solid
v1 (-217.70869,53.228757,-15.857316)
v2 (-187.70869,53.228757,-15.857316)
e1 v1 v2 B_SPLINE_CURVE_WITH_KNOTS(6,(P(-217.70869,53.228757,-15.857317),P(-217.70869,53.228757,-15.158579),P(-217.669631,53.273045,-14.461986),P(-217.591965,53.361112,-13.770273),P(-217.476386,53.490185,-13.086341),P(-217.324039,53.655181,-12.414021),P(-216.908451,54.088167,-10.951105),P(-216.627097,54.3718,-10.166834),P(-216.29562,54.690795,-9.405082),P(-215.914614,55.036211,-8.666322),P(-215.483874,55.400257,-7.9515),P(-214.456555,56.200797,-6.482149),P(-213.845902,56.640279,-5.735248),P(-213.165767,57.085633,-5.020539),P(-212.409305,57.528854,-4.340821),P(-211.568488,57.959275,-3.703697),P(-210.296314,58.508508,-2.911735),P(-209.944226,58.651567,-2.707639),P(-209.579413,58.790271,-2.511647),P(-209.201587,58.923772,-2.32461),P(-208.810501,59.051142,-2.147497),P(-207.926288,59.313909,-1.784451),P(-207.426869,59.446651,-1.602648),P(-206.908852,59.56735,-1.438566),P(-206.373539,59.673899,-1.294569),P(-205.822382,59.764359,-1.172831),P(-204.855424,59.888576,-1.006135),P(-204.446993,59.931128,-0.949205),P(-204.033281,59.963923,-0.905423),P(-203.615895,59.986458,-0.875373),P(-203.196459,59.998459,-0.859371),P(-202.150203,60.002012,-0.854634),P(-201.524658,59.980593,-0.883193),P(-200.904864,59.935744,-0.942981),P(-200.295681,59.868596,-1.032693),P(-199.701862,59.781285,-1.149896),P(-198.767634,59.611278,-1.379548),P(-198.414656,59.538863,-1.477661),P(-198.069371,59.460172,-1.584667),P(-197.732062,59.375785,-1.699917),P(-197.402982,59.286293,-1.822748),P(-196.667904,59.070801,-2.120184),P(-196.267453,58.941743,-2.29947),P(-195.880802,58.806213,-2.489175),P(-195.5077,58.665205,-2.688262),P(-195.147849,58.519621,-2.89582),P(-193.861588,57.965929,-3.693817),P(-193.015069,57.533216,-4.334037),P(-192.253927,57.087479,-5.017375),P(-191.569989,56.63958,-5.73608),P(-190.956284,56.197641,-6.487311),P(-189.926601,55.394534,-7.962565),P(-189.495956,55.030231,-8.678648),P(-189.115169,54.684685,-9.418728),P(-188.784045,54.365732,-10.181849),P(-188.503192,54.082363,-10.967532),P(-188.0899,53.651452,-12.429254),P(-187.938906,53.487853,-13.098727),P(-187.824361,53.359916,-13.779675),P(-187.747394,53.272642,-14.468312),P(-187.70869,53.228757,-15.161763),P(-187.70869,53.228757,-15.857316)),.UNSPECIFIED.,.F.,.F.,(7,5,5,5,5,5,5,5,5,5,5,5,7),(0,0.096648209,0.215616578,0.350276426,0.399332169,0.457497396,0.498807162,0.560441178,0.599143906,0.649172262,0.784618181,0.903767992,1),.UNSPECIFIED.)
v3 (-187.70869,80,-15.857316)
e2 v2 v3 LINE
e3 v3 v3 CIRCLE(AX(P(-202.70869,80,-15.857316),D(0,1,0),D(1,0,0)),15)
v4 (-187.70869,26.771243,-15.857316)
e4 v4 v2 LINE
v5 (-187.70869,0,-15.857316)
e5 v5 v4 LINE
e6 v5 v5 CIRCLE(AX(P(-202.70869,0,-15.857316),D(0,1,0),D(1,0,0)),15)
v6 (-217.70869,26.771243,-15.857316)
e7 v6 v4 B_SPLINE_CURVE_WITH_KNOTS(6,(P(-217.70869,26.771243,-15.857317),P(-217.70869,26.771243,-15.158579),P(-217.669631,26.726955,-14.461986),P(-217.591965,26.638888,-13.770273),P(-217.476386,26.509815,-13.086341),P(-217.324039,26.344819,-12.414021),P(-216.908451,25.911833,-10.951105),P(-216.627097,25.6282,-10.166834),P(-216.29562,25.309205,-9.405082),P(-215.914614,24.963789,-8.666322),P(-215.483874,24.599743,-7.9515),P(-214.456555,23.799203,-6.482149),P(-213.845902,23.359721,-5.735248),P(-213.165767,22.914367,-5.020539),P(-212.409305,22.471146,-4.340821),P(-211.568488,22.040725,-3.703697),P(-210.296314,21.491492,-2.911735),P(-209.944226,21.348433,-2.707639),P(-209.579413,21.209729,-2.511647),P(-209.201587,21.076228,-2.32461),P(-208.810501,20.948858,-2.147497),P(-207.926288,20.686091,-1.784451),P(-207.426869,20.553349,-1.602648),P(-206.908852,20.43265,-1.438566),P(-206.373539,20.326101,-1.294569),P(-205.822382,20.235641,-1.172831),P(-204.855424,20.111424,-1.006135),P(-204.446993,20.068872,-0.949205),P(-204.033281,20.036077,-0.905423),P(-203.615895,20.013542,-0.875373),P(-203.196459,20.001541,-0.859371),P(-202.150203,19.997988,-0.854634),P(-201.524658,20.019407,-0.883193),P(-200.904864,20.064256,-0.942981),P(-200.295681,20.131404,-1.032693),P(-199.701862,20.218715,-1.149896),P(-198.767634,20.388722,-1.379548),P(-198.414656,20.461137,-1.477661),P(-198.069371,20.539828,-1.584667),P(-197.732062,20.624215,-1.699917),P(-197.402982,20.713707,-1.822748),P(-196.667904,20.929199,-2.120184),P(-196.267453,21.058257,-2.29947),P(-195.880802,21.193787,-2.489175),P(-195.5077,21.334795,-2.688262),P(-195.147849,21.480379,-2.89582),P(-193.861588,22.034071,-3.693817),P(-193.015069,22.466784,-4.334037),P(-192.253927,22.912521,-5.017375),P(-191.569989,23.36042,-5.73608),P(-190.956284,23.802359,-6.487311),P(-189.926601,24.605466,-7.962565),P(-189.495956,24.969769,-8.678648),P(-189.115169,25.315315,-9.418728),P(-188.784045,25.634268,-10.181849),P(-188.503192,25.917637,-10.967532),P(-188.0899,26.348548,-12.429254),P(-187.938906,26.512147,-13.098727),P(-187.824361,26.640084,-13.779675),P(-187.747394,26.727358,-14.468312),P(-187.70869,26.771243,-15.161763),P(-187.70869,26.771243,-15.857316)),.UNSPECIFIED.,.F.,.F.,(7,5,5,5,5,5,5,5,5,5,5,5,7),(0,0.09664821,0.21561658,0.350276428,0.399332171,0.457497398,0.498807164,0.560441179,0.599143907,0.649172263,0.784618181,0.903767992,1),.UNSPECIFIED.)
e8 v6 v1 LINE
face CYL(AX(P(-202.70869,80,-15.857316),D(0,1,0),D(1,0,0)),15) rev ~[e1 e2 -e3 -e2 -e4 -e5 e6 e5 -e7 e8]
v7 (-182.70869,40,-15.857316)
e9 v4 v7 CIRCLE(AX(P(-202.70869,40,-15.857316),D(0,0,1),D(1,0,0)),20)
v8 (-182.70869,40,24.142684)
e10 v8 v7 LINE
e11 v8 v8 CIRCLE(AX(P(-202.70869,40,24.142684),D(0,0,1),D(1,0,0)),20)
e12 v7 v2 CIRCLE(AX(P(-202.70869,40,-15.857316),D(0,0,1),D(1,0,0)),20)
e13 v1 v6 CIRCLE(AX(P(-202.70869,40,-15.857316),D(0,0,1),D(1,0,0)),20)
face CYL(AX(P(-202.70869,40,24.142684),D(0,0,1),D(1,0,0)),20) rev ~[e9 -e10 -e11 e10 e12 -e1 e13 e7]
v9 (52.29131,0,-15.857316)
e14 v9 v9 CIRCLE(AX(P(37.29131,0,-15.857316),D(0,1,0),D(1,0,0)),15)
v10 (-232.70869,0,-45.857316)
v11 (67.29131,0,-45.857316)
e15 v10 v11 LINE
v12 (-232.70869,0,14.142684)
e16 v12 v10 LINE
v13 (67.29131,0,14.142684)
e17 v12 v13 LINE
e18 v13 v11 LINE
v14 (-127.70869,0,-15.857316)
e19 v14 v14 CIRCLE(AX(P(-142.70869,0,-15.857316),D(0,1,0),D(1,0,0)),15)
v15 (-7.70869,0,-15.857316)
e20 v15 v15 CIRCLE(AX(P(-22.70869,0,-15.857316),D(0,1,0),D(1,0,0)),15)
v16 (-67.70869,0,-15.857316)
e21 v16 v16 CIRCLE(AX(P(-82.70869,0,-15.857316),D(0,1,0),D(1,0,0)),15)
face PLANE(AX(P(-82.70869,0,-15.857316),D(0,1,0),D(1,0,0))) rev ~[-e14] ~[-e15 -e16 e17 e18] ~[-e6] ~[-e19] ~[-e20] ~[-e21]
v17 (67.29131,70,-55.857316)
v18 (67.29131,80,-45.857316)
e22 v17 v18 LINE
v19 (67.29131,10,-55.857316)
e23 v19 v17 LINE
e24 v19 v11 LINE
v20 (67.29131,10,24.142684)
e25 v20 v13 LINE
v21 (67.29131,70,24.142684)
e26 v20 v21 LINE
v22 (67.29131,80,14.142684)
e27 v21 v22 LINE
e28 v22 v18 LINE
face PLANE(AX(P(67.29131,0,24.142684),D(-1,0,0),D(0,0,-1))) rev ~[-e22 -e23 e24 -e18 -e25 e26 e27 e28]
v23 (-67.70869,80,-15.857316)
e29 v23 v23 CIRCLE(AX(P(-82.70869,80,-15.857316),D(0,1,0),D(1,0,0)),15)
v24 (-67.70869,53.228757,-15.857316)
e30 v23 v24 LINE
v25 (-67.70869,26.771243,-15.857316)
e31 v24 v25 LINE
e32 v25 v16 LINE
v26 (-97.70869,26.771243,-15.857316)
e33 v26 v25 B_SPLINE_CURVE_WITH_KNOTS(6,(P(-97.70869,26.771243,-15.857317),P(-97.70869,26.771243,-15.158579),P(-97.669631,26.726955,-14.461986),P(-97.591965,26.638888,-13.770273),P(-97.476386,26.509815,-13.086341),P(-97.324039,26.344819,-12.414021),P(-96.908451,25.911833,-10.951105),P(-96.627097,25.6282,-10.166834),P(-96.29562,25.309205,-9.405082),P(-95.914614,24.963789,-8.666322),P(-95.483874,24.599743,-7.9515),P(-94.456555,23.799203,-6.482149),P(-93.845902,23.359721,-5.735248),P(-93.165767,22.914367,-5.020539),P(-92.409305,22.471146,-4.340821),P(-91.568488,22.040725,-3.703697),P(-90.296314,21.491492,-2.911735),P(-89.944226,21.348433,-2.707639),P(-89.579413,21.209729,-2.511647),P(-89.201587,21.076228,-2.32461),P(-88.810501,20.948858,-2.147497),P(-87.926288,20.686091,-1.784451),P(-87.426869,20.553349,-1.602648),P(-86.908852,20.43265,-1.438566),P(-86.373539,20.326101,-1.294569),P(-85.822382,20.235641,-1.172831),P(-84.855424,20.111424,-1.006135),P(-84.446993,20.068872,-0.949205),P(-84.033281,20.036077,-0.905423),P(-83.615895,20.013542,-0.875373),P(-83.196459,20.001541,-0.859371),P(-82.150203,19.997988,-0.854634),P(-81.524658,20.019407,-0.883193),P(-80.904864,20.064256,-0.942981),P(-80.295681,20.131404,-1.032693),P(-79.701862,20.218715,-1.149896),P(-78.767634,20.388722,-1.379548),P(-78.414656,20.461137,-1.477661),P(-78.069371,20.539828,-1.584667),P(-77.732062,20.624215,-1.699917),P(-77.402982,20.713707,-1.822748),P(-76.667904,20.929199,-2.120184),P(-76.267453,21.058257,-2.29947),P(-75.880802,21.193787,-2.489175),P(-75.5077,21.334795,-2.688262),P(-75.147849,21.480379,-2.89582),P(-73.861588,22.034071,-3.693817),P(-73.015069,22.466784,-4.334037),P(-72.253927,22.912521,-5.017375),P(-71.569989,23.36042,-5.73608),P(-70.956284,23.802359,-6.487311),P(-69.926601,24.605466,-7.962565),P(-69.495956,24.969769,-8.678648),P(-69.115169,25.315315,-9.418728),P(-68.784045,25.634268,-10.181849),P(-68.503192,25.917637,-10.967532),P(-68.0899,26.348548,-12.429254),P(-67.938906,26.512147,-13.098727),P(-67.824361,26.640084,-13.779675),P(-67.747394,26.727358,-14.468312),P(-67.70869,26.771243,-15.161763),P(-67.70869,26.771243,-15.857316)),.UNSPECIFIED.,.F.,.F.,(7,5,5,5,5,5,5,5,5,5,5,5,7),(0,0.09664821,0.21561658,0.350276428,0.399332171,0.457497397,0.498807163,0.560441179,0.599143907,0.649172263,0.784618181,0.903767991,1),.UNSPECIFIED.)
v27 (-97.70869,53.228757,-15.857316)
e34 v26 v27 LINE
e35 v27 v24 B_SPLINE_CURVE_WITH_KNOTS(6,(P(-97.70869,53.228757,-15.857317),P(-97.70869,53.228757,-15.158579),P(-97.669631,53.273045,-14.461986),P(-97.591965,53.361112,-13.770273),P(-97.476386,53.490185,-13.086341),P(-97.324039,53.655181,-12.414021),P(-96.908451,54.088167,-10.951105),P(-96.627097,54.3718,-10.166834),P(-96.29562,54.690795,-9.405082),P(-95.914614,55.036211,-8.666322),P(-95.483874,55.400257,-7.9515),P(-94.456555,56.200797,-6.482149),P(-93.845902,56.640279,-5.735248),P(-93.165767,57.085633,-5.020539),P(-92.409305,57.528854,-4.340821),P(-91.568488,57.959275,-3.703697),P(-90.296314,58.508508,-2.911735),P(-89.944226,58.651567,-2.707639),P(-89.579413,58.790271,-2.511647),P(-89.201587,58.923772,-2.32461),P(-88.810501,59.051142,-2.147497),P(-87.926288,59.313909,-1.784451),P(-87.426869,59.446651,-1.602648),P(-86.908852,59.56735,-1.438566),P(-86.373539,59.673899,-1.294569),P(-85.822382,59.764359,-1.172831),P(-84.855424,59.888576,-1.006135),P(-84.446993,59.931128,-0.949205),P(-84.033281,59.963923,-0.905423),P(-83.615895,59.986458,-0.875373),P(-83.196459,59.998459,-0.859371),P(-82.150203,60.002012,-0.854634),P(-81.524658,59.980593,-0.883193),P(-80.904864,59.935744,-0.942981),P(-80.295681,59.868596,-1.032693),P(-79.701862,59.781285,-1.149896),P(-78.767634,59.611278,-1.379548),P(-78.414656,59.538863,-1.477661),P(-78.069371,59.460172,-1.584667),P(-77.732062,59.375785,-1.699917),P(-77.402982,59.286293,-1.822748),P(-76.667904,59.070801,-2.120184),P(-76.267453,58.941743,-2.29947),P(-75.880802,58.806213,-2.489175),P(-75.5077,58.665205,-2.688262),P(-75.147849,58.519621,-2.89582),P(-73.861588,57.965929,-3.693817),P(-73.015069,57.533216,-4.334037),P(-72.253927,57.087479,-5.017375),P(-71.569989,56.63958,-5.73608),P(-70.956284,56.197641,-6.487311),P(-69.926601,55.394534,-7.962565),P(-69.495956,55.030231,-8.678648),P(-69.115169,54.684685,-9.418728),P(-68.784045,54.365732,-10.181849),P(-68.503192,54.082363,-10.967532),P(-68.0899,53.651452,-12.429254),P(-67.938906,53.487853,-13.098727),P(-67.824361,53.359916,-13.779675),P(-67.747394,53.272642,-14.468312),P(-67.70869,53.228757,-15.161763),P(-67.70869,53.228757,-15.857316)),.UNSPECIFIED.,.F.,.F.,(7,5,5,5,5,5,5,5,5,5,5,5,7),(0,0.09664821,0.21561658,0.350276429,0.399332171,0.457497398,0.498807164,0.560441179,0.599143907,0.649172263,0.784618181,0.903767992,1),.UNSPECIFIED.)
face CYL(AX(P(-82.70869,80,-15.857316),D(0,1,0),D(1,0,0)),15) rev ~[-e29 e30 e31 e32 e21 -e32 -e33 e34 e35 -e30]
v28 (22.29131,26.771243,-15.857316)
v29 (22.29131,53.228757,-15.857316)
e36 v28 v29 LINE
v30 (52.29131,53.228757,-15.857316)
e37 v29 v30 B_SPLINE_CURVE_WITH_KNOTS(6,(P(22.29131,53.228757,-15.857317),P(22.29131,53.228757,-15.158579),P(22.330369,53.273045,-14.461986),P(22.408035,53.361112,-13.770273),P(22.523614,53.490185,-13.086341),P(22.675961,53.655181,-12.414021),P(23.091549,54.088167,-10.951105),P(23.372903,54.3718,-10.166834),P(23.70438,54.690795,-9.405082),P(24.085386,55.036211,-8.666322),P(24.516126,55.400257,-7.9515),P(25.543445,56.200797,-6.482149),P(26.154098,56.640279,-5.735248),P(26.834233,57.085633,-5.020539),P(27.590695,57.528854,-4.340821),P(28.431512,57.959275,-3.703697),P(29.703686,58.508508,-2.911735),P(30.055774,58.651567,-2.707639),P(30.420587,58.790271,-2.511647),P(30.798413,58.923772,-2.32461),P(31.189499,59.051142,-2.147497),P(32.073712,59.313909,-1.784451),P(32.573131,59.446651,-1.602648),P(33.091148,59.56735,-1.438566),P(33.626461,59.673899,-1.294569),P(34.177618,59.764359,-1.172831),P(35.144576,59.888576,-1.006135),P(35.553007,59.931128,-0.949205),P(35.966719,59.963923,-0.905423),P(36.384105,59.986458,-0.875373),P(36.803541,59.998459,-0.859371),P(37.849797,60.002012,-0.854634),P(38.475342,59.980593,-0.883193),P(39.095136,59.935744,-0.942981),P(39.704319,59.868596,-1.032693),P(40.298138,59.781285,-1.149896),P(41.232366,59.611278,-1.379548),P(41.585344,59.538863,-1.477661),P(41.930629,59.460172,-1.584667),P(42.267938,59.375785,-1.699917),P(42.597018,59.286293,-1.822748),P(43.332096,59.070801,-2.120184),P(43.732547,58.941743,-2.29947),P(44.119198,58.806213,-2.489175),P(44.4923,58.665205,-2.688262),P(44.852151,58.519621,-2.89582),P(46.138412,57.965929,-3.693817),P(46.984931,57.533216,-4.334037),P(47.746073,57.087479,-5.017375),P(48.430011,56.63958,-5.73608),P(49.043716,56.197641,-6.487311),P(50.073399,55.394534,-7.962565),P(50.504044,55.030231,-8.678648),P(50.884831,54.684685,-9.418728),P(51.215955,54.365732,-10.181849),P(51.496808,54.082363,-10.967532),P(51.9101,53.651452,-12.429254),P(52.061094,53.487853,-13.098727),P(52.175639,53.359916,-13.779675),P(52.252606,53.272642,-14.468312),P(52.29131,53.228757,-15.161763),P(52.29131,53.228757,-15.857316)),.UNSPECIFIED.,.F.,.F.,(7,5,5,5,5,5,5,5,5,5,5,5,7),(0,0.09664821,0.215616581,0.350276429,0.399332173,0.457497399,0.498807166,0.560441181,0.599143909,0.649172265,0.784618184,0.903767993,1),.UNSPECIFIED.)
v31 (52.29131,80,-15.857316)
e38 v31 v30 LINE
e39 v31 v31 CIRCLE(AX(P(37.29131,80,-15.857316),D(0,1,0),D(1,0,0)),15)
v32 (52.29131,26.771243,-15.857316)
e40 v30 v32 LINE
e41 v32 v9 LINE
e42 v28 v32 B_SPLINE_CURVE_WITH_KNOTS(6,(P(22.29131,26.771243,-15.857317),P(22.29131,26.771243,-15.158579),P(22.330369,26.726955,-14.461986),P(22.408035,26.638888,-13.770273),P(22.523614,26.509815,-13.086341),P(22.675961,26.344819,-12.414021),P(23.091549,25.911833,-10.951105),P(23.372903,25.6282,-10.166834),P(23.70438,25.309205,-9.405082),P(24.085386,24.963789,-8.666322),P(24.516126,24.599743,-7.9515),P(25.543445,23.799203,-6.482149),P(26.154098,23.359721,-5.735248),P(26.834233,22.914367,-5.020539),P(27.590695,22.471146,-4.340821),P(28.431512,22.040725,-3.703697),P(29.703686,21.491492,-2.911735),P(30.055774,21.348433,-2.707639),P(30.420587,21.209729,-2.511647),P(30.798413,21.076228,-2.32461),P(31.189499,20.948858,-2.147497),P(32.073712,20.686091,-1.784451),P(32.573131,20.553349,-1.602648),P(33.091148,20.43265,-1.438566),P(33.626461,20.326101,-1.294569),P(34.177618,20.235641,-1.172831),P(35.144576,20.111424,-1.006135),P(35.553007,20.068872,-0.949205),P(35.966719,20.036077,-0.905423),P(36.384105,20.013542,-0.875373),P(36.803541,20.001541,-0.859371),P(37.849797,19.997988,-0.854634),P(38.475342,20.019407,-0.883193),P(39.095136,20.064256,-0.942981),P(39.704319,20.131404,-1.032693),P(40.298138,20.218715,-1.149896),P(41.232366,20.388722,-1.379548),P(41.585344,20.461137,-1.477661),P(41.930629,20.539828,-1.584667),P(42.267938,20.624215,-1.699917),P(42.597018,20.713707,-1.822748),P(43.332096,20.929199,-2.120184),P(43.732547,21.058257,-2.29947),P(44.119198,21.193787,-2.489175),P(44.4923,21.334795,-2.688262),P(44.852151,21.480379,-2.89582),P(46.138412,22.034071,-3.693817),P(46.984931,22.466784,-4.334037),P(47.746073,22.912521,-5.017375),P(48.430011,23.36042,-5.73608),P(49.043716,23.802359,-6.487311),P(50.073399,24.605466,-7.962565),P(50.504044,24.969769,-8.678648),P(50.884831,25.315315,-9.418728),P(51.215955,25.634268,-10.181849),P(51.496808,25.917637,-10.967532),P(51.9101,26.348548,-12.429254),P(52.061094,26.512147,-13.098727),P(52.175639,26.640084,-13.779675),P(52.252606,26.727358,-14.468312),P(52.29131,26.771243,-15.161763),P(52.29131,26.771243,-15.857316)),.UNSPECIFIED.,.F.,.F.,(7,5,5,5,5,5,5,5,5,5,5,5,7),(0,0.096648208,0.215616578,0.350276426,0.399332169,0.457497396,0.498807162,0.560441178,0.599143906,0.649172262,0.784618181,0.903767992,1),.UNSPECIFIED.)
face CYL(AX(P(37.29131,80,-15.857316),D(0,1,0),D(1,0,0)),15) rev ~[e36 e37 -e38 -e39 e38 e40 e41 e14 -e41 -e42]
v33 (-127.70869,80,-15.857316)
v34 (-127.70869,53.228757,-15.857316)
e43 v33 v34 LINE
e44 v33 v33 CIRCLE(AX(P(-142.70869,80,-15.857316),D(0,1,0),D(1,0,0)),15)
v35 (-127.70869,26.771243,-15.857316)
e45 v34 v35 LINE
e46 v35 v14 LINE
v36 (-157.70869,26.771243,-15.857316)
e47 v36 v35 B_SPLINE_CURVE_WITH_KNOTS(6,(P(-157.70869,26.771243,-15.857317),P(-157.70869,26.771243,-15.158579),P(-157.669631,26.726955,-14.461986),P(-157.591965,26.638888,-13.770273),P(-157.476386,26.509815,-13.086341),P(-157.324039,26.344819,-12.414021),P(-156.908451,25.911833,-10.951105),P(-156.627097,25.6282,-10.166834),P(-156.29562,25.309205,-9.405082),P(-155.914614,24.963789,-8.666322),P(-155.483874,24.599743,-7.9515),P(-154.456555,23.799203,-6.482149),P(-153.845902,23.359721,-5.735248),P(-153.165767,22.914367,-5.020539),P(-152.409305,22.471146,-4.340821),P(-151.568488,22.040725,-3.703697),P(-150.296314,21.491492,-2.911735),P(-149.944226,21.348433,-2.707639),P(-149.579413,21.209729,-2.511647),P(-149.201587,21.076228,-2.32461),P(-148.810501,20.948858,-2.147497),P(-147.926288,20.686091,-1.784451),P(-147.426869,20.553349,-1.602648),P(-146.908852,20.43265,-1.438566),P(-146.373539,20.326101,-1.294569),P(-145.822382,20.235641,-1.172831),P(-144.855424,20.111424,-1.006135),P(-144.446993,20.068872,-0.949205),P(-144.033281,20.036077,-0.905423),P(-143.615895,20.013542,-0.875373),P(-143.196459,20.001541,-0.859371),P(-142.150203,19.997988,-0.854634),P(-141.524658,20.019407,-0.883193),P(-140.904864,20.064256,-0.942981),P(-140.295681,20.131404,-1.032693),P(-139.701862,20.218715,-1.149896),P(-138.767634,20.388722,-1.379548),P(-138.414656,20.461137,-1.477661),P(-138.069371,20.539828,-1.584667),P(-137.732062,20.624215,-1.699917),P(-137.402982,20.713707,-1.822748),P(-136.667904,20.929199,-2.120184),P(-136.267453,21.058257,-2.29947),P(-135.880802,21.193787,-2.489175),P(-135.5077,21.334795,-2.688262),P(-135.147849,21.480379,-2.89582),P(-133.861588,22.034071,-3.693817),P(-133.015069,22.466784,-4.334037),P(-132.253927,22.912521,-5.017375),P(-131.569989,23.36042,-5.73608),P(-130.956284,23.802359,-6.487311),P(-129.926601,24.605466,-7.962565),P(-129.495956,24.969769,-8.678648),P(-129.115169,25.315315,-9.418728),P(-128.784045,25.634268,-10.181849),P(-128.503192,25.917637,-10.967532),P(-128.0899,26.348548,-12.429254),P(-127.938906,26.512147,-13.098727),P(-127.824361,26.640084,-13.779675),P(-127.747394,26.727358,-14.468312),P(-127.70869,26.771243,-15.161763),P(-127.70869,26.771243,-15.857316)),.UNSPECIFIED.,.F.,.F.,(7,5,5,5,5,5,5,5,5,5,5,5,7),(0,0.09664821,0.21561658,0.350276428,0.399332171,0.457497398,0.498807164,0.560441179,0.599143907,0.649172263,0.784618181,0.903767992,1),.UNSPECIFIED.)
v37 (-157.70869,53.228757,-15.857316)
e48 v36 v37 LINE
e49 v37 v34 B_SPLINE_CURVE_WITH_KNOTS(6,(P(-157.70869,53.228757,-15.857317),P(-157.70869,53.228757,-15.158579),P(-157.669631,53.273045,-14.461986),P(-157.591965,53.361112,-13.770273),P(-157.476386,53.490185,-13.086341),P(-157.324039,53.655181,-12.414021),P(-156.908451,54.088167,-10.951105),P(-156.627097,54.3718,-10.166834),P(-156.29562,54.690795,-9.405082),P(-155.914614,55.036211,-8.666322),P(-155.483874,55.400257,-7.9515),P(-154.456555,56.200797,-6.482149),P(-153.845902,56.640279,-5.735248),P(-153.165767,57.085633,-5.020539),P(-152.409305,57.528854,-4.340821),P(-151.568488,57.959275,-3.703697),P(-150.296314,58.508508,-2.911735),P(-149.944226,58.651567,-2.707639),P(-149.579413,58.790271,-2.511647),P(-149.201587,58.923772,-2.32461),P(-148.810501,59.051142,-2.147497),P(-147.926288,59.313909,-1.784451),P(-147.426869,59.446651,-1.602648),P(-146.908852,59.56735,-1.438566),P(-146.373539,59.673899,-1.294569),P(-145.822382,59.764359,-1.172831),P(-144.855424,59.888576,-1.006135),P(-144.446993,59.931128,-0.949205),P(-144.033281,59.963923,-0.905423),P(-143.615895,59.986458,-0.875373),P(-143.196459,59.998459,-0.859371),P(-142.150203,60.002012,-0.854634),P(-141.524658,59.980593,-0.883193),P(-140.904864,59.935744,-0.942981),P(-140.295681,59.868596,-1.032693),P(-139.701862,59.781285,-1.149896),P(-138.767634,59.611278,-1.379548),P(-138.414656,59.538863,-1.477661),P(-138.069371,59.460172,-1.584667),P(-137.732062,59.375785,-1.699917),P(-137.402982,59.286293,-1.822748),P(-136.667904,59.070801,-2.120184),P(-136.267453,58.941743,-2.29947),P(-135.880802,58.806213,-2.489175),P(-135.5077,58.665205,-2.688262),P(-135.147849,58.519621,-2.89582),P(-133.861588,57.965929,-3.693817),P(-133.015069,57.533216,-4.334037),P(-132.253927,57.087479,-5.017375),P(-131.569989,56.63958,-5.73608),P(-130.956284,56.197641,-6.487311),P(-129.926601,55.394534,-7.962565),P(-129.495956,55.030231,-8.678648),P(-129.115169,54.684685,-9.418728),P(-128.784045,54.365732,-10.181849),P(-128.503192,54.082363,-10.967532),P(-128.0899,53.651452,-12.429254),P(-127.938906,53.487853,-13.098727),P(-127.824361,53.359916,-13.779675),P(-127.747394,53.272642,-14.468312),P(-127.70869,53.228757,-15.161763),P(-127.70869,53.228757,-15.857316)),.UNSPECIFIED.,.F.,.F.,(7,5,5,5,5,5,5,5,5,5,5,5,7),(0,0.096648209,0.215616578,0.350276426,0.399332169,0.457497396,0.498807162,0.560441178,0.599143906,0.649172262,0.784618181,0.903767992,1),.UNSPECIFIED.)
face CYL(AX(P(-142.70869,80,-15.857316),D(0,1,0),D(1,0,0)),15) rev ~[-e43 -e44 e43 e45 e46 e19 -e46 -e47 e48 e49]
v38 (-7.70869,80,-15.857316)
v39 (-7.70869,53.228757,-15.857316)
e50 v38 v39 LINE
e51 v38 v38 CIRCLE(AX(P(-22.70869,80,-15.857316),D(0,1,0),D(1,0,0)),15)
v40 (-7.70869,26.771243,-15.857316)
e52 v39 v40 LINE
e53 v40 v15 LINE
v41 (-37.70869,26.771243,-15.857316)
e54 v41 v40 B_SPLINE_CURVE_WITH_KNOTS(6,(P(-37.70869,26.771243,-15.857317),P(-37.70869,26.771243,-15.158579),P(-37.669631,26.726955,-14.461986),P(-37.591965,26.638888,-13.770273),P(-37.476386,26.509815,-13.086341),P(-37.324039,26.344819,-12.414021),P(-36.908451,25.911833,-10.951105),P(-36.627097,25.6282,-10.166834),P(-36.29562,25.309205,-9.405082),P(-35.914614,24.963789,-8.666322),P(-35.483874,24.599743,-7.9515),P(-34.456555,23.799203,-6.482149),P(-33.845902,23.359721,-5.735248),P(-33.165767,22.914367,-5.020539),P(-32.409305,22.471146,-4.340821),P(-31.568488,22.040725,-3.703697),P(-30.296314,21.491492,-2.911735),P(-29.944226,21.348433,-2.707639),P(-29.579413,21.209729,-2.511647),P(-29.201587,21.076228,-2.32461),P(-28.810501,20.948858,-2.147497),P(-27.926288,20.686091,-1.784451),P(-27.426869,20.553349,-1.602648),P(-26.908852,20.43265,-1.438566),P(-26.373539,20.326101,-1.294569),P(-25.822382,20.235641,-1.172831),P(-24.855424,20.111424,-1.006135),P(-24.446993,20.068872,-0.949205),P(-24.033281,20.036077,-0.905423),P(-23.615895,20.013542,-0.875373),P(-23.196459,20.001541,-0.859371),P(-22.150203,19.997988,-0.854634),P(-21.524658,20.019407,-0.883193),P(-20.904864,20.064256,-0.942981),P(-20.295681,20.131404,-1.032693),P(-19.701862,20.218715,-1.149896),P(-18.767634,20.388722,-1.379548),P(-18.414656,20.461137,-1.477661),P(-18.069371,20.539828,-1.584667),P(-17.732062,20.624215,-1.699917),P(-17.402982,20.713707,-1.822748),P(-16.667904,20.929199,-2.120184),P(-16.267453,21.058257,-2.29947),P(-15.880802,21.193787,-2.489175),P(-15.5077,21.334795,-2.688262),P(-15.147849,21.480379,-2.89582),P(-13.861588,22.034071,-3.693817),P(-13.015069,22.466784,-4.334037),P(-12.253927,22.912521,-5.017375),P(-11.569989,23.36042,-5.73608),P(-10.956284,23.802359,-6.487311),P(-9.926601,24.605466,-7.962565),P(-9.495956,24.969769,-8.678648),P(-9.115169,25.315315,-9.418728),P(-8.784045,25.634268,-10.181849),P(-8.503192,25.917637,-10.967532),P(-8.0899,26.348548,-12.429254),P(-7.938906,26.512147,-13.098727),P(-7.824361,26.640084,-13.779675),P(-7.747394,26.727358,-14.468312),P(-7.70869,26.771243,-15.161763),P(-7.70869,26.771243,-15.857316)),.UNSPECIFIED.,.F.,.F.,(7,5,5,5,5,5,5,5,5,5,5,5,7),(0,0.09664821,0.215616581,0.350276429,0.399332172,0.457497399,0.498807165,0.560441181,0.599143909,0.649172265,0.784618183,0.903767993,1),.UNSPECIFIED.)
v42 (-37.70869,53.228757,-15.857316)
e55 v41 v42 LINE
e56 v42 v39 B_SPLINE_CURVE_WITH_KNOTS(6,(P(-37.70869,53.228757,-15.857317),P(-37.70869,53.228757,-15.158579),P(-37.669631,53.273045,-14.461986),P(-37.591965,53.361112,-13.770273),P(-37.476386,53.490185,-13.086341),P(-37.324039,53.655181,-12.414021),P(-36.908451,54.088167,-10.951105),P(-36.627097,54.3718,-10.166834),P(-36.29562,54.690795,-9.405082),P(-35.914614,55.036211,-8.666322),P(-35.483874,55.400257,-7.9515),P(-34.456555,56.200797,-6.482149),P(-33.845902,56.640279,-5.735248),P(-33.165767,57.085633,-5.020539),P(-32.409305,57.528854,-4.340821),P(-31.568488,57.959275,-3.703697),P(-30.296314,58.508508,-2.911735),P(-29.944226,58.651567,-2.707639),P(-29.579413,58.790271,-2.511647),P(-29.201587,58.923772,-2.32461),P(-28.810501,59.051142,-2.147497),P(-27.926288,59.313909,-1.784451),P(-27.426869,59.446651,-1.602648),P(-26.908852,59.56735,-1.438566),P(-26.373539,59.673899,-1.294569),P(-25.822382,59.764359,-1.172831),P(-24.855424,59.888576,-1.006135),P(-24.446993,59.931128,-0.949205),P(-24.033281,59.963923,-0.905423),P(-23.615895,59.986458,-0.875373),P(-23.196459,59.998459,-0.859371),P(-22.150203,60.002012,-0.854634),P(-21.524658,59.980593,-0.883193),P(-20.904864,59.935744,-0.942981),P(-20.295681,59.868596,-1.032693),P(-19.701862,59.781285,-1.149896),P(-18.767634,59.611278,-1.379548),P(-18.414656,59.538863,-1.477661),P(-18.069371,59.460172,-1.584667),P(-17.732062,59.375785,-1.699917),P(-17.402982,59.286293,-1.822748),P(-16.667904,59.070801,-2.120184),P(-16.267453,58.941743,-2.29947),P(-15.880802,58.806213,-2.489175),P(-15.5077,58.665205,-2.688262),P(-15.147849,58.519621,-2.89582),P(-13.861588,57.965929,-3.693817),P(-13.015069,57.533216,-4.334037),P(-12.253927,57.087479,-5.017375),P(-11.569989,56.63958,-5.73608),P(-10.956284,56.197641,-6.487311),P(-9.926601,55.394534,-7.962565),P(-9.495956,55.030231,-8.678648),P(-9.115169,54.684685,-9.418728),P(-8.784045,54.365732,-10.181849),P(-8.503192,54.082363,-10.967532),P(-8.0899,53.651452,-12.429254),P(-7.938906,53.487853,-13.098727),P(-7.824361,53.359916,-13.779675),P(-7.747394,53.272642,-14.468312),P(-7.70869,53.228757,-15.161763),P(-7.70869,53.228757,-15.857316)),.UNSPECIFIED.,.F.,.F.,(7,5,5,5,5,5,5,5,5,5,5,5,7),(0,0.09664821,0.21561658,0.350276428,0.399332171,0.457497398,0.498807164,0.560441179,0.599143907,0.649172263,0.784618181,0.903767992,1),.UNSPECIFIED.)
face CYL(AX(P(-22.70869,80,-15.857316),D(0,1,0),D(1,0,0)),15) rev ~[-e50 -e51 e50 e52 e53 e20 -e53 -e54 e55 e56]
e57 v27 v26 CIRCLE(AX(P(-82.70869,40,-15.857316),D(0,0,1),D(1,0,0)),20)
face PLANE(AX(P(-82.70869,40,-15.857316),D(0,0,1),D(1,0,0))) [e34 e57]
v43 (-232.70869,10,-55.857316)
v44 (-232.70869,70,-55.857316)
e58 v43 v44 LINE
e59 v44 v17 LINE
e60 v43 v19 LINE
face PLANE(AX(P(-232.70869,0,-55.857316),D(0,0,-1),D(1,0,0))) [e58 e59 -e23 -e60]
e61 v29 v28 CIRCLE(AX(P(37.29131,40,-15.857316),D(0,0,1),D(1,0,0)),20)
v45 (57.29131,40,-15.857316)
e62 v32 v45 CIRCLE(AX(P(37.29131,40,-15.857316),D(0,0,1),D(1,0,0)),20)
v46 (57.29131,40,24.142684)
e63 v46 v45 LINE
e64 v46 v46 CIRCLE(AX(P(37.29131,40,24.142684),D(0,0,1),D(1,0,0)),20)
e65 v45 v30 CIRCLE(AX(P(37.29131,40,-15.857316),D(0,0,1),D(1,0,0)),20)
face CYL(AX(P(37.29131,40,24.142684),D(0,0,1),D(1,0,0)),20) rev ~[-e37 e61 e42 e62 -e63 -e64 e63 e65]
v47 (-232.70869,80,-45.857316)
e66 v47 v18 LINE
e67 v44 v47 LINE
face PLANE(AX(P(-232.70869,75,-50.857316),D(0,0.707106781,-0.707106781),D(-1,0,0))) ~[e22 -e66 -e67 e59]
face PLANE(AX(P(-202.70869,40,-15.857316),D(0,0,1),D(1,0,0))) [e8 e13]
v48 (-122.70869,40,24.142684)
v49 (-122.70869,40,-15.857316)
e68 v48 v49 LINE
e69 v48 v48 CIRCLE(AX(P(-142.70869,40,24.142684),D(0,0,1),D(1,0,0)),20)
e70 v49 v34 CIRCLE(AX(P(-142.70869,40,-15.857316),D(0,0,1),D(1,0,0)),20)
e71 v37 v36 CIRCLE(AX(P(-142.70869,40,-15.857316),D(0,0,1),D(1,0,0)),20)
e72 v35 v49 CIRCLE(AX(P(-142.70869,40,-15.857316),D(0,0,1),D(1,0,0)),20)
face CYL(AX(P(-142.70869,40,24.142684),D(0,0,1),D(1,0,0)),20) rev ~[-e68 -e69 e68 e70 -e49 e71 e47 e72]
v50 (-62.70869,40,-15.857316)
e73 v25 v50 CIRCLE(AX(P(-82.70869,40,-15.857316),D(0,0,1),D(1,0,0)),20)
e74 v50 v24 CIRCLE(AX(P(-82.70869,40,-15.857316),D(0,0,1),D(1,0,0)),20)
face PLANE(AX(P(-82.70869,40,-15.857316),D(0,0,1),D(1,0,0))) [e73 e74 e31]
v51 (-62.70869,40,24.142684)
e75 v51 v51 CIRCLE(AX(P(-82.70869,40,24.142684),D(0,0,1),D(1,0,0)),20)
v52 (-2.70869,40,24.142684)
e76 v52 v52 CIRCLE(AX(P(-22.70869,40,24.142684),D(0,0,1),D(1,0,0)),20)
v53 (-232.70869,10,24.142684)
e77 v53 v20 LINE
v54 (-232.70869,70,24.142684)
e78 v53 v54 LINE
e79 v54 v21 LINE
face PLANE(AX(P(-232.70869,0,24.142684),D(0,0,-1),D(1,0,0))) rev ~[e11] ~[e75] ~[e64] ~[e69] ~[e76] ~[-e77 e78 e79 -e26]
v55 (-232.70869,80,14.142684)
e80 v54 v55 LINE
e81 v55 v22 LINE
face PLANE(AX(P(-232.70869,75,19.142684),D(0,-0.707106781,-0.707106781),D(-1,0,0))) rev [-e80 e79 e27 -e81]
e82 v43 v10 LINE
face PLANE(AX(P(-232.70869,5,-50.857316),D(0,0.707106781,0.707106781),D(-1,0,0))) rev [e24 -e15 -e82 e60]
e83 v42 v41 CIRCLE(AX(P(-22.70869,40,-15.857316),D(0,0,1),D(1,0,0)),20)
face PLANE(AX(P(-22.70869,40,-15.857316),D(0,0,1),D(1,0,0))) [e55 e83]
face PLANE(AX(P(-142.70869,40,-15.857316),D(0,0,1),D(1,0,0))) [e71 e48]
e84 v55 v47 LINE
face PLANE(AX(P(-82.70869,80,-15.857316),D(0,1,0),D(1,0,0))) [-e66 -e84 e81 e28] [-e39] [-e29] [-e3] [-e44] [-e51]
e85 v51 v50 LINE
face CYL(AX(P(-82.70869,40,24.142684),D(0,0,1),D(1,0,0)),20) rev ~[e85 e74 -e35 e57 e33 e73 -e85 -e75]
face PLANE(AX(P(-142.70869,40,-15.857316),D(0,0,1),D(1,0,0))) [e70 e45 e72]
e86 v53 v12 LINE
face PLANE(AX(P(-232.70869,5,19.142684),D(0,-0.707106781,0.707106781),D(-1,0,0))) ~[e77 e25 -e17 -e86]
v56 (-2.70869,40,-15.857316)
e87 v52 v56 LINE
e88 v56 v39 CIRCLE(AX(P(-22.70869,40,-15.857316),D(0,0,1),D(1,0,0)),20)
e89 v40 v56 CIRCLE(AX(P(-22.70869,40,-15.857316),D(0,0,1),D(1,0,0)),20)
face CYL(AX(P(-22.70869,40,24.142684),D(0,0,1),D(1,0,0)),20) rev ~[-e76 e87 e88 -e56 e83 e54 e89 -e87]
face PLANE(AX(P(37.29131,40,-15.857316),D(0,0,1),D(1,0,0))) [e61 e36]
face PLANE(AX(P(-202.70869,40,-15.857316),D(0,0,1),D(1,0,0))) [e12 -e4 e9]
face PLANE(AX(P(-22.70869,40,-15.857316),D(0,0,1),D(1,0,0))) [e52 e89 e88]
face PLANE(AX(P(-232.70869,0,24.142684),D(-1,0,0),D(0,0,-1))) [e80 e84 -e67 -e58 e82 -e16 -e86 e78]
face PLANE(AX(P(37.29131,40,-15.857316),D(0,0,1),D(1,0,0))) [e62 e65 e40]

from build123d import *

# Parameters (mm, degrees)
CROQUIS1_W              = 300
CROQUIS1_H              = 80
SALIENTE_EXTRUIR1_DEPTH = 80
CHAFL_N1_SIZE           = 10
CROQUIS2_R              = 20
CORTAR_EXTRUIR1_DEPTH   = 40
CROQUIS3_R              = 15
CORTAR_EXTRUIR2_DEPTH   = 100


with BuildPart() as part:
    # Croquis1 → Saliente-Extruir1 (new body)
    with BuildSketch(Plane(origin=(0, 0, 0), x_dir=(1, 0, 0), z_dir=(0, 1, 0))):
        with Locations((-82.708690096, 15.857316294)):
            Rectangle(CROQUIS1_W, CROQUIS1_H)
    extrude(amount=SALIENTE_EXTRUIR1_DEPTH)

    # Chaflán1
    chafl_n1_edges = [part.edges().sort_by_distance(p)[0] for p in [
        (-82.708690096, 80, 24.142683706),
        (-82.708690096, 0, 24.142683706),
        (-82.708690096, 0, -55.857316294),
        (-82.708690096, 80, -55.857316294),
    ]]
    chamfer(chafl_n1_edges, length=CHAFL_N1_SIZE)

    # Croquis2 → Cortar-Extruir1 (cut)
    with BuildSketch(Plane.XY.offset(24.142683706)):
        with Locations((-82.708690096, 40)):
            Circle(CROQUIS2_R)
        with Locations((-142.708690096, 40)):
            Circle(CROQUIS2_R)
        with Locations((-202.708690096, 40)):
            Circle(CROQUIS2_R)
        with Locations((-22.708690096, 40)):
            Circle(CROQUIS2_R)
        with Locations((37.291309904, 40)):
            Circle(CROQUIS2_R)
    extrude(amount=-CORTAR_EXTRUIR1_DEPTH, mode=Mode.SUBTRACT)

    # Croquis3 → Cortar-Extruir2 (cut, symmetric)
    with BuildSketch(Plane(origin=(0, 80, 0), x_dir=(1, 0, 0), z_dir=(0, 1, 0))):
        with Locations((-82.708690096, 15.857316294)):
            Circle(CROQUIS3_R)
        with Locations((-22.708690096, 15.857316294)):
            Circle(CROQUIS3_R)
        with Locations((37.291309904, 15.857316294)):
            Circle(CROQUIS3_R)
        with Locations((-142.708690096, 15.857316294)):
            Circle(CROQUIS3_R)
        with Locations((-202.708690096, 15.857316294)):
            Circle(CROQUIS3_R)
    extrude(amount=CORTAR_EXTRUIR2_DEPTH, both=True, mode=Mode.SUBTRACT)


solid = part.part
